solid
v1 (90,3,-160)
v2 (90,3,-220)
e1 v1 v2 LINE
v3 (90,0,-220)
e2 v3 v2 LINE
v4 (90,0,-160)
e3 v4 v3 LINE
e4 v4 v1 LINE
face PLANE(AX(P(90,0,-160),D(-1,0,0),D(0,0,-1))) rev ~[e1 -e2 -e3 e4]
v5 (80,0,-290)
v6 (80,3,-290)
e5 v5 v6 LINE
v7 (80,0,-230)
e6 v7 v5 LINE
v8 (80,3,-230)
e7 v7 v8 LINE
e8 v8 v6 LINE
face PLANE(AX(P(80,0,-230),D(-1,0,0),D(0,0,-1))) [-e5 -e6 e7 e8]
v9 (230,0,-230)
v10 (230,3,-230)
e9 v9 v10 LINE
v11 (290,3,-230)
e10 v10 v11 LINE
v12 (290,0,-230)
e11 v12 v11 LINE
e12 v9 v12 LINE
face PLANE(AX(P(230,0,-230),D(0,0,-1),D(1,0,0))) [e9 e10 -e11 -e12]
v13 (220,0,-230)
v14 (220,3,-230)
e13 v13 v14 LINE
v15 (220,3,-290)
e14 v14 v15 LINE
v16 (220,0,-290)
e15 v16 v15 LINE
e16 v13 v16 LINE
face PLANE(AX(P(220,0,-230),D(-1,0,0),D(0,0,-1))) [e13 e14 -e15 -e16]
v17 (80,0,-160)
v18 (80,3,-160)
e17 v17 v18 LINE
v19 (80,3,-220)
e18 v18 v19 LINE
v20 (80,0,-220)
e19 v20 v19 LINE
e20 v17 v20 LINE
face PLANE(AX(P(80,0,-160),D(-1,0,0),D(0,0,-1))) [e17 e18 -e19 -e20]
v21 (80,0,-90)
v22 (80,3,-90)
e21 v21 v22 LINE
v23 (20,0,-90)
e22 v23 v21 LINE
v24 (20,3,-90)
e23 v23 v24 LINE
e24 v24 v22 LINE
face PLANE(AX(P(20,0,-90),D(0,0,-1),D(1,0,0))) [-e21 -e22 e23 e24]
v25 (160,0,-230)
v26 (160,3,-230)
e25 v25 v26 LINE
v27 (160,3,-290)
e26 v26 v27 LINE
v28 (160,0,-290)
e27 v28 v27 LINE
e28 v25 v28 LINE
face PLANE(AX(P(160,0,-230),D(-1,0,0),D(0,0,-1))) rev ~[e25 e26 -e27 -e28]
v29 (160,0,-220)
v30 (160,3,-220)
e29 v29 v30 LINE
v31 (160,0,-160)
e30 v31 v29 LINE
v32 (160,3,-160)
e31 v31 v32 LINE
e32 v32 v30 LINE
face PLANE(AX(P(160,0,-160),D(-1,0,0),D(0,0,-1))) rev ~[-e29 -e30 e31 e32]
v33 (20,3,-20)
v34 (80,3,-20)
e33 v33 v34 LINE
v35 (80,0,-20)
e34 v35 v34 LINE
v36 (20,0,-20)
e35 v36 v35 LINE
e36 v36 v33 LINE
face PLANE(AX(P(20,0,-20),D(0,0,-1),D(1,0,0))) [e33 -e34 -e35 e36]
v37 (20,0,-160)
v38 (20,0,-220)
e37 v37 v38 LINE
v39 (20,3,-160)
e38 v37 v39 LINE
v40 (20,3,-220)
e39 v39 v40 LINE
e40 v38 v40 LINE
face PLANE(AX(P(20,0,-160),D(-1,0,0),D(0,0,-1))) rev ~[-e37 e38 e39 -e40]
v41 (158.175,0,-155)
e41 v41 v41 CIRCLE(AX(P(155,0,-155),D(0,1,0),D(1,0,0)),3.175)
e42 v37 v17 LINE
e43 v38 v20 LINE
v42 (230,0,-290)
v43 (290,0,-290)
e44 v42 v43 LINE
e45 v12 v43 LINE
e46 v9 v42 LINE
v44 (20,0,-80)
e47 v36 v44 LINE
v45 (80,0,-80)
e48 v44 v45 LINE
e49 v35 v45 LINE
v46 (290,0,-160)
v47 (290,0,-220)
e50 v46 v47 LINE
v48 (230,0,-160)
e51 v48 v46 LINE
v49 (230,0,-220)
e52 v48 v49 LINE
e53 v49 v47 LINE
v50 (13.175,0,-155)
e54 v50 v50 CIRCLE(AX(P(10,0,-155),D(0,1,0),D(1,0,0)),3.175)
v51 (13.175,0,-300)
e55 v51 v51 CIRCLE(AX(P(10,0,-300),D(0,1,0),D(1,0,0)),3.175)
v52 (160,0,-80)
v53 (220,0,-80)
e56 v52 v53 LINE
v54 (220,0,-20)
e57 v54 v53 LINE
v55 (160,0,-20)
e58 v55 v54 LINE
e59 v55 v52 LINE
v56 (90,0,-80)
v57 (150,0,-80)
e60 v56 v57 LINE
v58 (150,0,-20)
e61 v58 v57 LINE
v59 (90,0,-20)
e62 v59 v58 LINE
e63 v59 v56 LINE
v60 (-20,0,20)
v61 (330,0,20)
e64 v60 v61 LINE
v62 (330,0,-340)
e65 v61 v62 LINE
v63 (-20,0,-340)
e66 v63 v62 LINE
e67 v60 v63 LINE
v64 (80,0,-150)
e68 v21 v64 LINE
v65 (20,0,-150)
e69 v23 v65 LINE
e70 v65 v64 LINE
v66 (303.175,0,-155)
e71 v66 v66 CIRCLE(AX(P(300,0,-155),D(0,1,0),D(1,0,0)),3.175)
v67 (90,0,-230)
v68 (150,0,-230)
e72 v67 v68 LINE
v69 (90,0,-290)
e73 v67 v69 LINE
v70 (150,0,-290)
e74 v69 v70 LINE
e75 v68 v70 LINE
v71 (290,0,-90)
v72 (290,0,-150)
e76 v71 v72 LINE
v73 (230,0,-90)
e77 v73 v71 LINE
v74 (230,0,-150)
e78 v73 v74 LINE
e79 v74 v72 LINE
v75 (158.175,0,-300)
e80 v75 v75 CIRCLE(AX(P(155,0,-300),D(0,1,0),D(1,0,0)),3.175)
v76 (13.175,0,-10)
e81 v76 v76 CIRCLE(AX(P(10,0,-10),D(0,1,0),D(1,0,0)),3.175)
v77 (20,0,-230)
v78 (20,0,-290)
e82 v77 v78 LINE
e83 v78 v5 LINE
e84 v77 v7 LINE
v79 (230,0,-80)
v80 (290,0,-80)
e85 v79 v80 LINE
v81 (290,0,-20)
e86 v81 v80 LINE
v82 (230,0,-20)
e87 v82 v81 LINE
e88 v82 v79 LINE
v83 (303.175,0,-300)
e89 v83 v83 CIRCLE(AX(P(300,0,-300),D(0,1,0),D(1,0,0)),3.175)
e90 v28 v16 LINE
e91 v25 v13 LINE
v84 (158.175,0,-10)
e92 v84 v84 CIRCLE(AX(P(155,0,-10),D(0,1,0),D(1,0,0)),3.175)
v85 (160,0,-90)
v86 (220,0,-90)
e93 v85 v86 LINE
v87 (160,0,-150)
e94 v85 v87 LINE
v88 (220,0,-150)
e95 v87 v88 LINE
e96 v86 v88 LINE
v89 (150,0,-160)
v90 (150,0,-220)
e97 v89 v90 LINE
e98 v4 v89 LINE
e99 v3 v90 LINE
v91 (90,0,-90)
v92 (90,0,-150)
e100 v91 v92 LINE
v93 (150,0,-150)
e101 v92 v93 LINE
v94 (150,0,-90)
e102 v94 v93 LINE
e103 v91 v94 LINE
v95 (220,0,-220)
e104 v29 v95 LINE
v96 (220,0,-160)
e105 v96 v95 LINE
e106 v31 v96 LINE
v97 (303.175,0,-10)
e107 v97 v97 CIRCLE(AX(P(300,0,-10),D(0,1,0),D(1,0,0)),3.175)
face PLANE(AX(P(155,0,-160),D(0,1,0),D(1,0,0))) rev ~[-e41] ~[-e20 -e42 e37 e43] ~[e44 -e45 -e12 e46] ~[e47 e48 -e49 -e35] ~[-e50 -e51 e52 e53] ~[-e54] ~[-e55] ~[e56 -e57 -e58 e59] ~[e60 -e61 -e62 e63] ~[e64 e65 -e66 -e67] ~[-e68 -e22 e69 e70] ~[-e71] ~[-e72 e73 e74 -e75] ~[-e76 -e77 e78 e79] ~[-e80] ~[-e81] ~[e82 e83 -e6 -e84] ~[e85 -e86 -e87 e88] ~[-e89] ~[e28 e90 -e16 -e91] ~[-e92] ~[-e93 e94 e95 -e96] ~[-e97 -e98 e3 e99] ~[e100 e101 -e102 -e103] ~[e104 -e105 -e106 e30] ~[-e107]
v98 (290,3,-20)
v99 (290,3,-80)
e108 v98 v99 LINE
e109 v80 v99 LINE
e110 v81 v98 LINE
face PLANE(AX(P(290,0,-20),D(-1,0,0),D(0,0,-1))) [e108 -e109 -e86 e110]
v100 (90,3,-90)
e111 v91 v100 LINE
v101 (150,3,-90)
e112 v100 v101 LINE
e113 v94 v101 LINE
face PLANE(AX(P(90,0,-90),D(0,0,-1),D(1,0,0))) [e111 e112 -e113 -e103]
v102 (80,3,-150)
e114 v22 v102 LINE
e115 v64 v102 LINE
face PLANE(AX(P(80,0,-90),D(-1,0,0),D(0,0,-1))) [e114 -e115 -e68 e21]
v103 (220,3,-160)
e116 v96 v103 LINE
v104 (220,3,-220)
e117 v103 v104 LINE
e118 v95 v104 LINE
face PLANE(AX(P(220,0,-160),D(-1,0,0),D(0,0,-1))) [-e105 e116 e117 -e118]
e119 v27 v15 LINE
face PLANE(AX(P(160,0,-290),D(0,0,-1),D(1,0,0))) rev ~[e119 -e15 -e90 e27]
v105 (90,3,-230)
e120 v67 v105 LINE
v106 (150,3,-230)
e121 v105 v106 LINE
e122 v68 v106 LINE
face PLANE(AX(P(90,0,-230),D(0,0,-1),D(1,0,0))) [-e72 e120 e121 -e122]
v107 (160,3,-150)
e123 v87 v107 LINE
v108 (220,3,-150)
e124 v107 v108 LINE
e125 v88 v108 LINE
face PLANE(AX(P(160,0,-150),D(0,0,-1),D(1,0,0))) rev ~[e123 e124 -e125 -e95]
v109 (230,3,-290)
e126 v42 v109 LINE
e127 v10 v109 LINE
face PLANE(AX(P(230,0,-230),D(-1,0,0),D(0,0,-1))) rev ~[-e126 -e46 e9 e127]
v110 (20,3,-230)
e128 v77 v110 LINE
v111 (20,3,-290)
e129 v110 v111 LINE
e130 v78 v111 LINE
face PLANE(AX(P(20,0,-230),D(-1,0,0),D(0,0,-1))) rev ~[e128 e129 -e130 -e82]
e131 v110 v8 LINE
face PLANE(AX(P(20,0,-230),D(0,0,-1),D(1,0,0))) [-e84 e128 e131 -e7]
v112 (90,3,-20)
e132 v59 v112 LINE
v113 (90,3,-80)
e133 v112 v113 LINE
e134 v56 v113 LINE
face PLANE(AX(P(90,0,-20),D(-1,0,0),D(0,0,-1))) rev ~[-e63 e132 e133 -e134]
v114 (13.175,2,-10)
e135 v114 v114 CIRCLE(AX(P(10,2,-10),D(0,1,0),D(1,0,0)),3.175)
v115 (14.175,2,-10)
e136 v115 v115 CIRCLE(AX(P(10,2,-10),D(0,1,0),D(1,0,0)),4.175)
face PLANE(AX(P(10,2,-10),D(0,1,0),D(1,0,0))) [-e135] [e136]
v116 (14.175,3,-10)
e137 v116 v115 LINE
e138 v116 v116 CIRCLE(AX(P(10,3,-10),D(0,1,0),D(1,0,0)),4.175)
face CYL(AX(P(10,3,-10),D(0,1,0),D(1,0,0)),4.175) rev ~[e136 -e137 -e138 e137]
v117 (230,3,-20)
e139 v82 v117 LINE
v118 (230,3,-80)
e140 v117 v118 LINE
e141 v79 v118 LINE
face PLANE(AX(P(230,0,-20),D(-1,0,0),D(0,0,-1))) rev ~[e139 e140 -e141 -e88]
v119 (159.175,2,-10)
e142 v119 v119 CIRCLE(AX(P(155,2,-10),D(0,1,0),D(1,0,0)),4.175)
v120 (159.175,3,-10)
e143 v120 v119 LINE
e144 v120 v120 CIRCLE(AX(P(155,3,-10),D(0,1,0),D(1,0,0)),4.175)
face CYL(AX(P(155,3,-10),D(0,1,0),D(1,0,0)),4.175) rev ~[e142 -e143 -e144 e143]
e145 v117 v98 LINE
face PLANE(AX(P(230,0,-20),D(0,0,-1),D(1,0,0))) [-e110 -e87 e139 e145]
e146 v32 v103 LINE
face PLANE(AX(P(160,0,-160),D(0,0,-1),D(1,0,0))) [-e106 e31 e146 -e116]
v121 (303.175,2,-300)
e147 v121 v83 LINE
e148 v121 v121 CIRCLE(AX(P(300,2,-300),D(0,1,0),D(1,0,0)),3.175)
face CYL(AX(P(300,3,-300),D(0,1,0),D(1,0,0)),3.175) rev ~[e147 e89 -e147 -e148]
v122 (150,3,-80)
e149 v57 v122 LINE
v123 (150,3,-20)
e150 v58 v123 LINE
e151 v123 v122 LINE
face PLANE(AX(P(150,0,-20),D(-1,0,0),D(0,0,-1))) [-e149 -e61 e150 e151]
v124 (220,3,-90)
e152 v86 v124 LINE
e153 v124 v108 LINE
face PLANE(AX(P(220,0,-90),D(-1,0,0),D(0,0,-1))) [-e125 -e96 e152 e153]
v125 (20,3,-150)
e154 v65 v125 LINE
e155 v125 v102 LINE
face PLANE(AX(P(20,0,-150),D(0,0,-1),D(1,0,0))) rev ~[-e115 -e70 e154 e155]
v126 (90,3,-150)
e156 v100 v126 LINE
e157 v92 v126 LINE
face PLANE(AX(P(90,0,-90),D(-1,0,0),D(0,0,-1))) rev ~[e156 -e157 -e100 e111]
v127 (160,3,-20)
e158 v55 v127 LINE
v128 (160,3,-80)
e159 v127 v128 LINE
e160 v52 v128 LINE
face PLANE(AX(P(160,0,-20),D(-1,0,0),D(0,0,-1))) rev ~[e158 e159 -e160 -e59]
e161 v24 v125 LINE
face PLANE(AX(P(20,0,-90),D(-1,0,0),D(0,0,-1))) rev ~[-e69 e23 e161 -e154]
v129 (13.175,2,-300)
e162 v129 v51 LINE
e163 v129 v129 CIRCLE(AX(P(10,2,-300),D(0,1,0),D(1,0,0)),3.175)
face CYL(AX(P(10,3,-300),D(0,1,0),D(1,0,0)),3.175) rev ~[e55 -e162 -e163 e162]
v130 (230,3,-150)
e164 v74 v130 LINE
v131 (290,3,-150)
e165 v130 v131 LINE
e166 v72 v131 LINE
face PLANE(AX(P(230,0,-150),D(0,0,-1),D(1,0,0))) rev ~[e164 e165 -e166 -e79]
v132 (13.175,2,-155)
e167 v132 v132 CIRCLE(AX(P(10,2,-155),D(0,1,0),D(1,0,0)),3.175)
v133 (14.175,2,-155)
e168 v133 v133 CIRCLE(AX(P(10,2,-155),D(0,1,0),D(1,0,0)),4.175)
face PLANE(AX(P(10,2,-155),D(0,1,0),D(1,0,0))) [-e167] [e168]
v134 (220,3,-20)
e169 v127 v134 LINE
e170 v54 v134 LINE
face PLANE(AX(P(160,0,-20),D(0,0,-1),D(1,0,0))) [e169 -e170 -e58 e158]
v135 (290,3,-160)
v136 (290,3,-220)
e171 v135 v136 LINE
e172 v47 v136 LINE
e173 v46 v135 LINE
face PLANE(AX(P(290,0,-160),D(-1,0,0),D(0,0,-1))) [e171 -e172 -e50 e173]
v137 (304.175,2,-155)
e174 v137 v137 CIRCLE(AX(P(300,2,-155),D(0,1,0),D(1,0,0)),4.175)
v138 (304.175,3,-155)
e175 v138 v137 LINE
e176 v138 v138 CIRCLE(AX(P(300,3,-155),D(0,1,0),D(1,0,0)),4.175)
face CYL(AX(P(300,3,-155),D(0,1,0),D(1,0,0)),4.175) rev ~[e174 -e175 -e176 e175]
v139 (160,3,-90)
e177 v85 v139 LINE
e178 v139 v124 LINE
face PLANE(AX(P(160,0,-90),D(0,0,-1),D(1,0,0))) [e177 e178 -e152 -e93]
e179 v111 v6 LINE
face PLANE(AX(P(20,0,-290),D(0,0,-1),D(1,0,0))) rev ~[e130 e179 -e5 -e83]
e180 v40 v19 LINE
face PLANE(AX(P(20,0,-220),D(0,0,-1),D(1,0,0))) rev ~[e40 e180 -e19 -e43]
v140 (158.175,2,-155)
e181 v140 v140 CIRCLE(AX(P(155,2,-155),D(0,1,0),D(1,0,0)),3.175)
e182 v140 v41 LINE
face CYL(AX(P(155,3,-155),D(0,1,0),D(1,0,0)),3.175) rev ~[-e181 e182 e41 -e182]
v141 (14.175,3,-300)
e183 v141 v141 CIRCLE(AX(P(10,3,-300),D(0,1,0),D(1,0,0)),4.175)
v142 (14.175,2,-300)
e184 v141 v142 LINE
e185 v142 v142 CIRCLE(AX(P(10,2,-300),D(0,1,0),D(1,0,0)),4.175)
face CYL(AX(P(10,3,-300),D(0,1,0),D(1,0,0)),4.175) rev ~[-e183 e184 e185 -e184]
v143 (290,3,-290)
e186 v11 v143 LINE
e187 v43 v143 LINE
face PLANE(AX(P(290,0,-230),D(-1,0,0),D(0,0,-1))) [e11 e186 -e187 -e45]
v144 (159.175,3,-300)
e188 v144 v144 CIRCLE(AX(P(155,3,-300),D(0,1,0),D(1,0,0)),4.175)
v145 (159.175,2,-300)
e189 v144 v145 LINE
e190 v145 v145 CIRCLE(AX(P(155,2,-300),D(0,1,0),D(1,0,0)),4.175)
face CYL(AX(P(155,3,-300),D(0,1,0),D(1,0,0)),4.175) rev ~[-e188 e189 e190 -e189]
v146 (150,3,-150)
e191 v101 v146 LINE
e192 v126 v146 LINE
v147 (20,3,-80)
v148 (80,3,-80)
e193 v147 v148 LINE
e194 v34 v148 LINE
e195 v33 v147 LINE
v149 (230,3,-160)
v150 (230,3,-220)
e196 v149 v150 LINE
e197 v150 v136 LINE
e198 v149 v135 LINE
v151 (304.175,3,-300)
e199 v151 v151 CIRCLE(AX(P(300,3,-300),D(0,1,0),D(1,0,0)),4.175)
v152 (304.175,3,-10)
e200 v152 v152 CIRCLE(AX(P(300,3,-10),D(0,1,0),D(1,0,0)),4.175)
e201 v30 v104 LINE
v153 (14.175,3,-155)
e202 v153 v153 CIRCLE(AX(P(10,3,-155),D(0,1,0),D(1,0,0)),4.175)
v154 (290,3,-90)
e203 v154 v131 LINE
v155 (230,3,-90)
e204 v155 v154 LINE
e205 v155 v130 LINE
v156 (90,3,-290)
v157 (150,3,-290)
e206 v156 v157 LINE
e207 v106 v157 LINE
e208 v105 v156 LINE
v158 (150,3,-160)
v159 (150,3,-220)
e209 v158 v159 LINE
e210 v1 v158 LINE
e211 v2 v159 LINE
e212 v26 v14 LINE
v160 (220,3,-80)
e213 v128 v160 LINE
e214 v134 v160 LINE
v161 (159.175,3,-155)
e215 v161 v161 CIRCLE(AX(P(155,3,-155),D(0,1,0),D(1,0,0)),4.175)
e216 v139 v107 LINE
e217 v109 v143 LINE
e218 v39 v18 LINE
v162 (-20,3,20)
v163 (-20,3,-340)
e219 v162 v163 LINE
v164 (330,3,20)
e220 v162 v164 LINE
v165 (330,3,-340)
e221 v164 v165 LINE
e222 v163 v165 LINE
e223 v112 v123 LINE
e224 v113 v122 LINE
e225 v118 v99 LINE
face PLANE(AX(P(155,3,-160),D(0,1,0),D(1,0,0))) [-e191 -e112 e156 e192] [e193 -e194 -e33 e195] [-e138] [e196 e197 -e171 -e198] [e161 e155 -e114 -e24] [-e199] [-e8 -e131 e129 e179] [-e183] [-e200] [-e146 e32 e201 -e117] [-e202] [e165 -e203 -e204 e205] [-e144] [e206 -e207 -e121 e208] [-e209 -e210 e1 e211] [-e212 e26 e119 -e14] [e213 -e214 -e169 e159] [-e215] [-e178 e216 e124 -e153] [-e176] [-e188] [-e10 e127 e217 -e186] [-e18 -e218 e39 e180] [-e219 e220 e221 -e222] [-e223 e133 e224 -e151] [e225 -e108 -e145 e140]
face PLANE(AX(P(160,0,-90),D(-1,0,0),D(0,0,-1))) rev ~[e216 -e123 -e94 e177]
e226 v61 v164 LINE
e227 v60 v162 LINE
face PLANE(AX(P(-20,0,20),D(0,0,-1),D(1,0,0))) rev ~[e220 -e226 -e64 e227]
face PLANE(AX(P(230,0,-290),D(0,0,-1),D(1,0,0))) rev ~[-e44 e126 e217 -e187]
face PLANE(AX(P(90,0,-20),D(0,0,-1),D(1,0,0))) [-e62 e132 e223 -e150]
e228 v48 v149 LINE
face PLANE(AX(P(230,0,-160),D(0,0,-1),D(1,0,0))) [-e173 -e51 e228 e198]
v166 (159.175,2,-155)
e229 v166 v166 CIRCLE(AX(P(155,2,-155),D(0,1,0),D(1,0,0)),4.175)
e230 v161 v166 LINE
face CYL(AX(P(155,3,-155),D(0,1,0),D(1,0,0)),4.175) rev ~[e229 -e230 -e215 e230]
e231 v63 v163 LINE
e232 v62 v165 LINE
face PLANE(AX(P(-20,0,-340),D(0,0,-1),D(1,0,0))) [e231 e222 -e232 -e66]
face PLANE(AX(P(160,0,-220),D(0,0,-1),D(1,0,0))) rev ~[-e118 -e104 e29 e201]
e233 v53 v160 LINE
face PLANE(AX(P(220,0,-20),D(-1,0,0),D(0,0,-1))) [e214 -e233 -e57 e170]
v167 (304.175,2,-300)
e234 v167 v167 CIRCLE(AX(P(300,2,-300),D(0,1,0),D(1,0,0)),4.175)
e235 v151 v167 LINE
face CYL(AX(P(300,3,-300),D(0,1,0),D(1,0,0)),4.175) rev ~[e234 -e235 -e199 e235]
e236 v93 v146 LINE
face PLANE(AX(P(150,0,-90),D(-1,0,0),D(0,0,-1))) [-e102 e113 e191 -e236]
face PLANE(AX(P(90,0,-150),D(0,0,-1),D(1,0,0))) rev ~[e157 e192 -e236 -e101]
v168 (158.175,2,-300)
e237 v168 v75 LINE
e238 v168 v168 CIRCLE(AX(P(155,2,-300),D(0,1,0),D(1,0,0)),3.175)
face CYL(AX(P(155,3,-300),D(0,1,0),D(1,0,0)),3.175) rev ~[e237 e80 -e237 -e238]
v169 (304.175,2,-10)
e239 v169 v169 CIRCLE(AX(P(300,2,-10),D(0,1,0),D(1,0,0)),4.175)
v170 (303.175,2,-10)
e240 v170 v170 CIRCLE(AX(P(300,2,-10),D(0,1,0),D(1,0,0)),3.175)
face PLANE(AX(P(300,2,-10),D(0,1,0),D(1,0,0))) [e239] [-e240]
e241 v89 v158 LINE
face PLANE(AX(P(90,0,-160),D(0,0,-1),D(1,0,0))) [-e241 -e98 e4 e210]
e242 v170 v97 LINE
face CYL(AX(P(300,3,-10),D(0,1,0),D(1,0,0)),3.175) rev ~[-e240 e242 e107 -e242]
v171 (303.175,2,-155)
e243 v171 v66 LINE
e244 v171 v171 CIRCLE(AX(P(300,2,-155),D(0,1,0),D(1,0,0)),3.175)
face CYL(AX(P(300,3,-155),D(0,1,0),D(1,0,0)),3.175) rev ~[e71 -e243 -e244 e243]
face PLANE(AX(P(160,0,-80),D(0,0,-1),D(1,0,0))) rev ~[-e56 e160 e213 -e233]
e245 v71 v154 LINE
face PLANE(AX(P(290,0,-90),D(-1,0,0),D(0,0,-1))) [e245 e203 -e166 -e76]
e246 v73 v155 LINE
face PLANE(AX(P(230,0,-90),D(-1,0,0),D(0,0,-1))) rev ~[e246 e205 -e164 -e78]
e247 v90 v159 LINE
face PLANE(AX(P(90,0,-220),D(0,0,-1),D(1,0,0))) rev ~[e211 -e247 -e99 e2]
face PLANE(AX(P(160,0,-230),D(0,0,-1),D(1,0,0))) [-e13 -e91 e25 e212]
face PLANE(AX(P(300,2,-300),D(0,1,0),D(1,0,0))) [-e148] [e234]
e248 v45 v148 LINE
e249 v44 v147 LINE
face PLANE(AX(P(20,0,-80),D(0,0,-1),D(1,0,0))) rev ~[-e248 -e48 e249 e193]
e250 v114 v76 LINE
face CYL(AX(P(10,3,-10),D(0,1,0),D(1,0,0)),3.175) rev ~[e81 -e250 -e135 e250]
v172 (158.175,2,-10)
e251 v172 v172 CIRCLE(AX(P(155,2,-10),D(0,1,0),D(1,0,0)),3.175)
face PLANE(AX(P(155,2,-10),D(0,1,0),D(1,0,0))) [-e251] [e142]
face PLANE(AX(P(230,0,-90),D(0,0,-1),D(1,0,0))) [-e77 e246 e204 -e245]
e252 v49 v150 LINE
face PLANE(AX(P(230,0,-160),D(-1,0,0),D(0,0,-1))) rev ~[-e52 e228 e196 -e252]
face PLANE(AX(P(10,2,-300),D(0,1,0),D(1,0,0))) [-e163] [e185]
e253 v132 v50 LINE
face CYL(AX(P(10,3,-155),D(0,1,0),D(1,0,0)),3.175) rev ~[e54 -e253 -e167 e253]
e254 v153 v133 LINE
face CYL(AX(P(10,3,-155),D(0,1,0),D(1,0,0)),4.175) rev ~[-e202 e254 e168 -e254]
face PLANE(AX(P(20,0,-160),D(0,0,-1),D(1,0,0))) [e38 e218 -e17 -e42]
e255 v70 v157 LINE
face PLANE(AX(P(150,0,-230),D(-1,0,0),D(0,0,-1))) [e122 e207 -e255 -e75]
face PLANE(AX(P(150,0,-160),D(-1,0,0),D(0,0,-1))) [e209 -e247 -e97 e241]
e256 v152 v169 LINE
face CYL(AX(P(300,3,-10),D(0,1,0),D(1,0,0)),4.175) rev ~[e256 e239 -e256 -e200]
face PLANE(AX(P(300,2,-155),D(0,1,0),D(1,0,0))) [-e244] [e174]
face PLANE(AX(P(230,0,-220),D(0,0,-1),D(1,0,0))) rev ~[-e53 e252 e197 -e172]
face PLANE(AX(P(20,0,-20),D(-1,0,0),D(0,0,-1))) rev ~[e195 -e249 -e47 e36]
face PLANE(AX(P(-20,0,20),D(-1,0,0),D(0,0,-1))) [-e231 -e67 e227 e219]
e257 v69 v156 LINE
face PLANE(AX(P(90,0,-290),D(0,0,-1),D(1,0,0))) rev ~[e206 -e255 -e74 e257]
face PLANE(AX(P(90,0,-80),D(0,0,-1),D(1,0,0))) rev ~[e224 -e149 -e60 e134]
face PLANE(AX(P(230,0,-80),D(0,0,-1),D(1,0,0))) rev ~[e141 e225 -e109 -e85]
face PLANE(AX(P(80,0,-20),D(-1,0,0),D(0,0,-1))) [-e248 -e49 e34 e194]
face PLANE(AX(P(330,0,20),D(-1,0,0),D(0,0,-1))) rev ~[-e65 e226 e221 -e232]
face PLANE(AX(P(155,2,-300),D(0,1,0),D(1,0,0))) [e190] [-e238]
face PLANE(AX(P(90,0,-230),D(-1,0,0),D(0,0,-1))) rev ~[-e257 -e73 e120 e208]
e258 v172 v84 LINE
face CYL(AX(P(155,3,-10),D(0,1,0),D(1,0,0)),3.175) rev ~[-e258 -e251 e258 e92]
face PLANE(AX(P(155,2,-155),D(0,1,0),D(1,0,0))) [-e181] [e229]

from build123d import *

# Parameters (mm, degrees)
ESQUISSE1_W                     = 350
ESQUISSE1_H                     = 360
ESQUISSE1_W_2                   = 60
ESQUISSE1_H_2                   = 60
BOSS_EXTRU_1_DEPTH              = 3
ESQUISSE2_R                     = 3.175
ENL_V_MAT_EXTRU_1_DEPTH         = 5
ESQUISSE2_2_R                   = 4.175
ESQUISSE2_2_R_2                 = 3.175
ENL_V_DE_MAT_EXTRU_MINCE1_DEPTH = 1


with BuildPart() as part:
    # Esquisse1 → Boss.-Extru.1 (new body)
    with BuildSketch(Plane(origin=(0, 0, 0), x_dir=(1, 0, 0), z_dir=(0, 1, 0))):
        with Locations((155, 160)):
            Rectangle(ESQUISSE1_W, ESQUISSE1_H)
        with Locations((50, 50)):
            Rectangle(ESQUISSE1_W_2, ESQUISSE1_H_2, mode=Mode.SUBTRACT)
        with Locations((120, 50)):
            Rectangle(ESQUISSE1_W_2, ESQUISSE1_H_2, mode=Mode.SUBTRACT)
        with Locations((50, 120)):
            Rectangle(ESQUISSE1_W_2, ESQUISSE1_H_2, mode=Mode.SUBTRACT)
        with Locations((120, 120)):
            Rectangle(ESQUISSE1_W_2, ESQUISSE1_H_2, mode=Mode.SUBTRACT)
        with Locations((190, 50)):
            Rectangle(ESQUISSE1_W_2, ESQUISSE1_H_2, mode=Mode.SUBTRACT)
        with Locations((260, 50)):
            Rectangle(ESQUISSE1_W_2, ESQUISSE1_H_2, mode=Mode.SUBTRACT)
        with Locations((190, 120)):
            Rectangle(ESQUISSE1_W_2, ESQUISSE1_H_2, mode=Mode.SUBTRACT)
        with Locations((260, 120)):
            Rectangle(ESQUISSE1_W_2, ESQUISSE1_H_2, mode=Mode.SUBTRACT)
        with Locations((50, 190)):
            Rectangle(ESQUISSE1_W_2, ESQUISSE1_H_2, mode=Mode.SUBTRACT)
        with Locations((120, 190)):
            Rectangle(ESQUISSE1_W_2, ESQUISSE1_H_2, mode=Mode.SUBTRACT)
        with Locations((50, 260)):
            Rectangle(ESQUISSE1_W_2, ESQUISSE1_H_2, mode=Mode.SUBTRACT)
        with Locations((120, 260)):
            Rectangle(ESQUISSE1_W_2, ESQUISSE1_H_2, mode=Mode.SUBTRACT)
        with Locations((190, 190)):
            Rectangle(ESQUISSE1_W_2, ESQUISSE1_H_2, mode=Mode.SUBTRACT)
        with Locations((260, 190)):
            Rectangle(ESQUISSE1_W_2, ESQUISSE1_H_2, mode=Mode.SUBTRACT)
        with Locations((190, 260)):
            Rectangle(ESQUISSE1_W_2, ESQUISSE1_H_2, mode=Mode.SUBTRACT)
        with Locations((260, 260)):
            Rectangle(ESQUISSE1_W_2, ESQUISSE1_H_2, mode=Mode.SUBTRACT)
    extrude(amount=BOSS_EXTRU_1_DEPTH)

    # Esquisse2 → Enl_v. mat.-Extru.1 (cut)
    with BuildSketch(Plane(origin=(0, 3, 0), x_dir=(1, 0, 0), z_dir=(0, 1, 0))):
        with Locations((155, 300)):
            Circle(ESQUISSE2_R)
        with Locations((10, 300)):
            Circle(ESQUISSE2_R)
        with Locations((155, 155)):
            Circle(ESQUISSE2_R)
        with Locations((300, 300)):
            Circle(ESQUISSE2_R)
        with Locations((300, 155)):
            Circle(ESQUISSE2_R)
        with Locations((10, 155)):
            Circle(ESQUISSE2_R)
        with Locations((10, 10)):
            Circle(ESQUISSE2_R)
        with Locations((300, 10)):
            Circle(ESQUISSE2_R)
        with Locations((155, 10)):
            Circle(ESQUISSE2_R)
    extrude(amount=-ENL_V_MAT_EXTRU_1_DEPTH, mode=Mode.SUBTRACT)

    # Esquisse2_2 → Enl_v. de mat.-Extru.-Mince1 (cut)
    # profile 1 of 9: a face of its own
    with BuildSketch(Plane(origin=(0, 3, 0), x_dir=(1, 0, 0), z_dir=(0, 1, 0))):
        with Locations((155, 300)):
            Circle(ESQUISSE2_2_R)
        with Locations((155, 300)):
            Circle(ESQUISSE2_2_R_2, mode=Mode.SUBTRACT)
    # profile 2 of 9: a face of its own
    with BuildSketch(Plane(origin=(0, 3, 0), x_dir=(1, 0, 0), z_dir=(0, 1, 0))):
        with Locations((10, 300)):
            Circle(ESQUISSE2_2_R)
        with Locations((10, 300)):
            Circle(ESQUISSE2_2_R_2, mode=Mode.SUBTRACT)
    # profile 3 of 9: a face of its own
    with BuildSketch(Plane(origin=(0, 3, 0), x_dir=(1, 0, 0), z_dir=(0, 1, 0))):
        with Locations((155, 155)):
            Circle(ESQUISSE2_2_R)
        with Locations((155, 155)):
            Circle(ESQUISSE2_2_R_2, mode=Mode.SUBTRACT)
    # profile 4 of 9: a face of its own
    with BuildSketch(Plane(origin=(0, 3, 0), x_dir=(1, 0, 0), z_dir=(0, 1, 0))):
        with Locations((300, 300)):
            Circle(ESQUISSE2_2_R)
        with Locations((300, 300)):
            Circle(ESQUISSE2_2_R_2, mode=Mode.SUBTRACT)
    # profile 5 of 9: a face of its own
    with BuildSketch(Plane(origin=(0, 3, 0), x_dir=(1, 0, 0), z_dir=(0, 1, 0))):
        with Locations((300, 155)):
            Circle(ESQUISSE2_2_R)
        with Locations((300, 155)):
            Circle(ESQUISSE2_2_R_2, mode=Mode.SUBTRACT)
    # profile 6 of 9: a face of its own
    with BuildSketch(Plane(origin=(0, 3, 0), x_dir=(1, 0, 0), z_dir=(0, 1, 0))):
        with Locations((10, 155)):
            Circle(ESQUISSE2_2_R)
        with Locations((10, 155)):
            Circle(ESQUISSE2_2_R_2, mode=Mode.SUBTRACT)
    # profile 7 of 9: a face of its own
    with BuildSketch(Plane(origin=(0, 3, 0), x_dir=(1, 0, 0), z_dir=(0, 1, 0))):
        with Locations((10, 10)):
            Circle(ESQUISSE2_2_R)
        with Locations((10, 10)):
            Circle(ESQUISSE2_2_R_2, mode=Mode.SUBTRACT)
    # profile 8 of 9: a face of its own
    with BuildSketch(Plane(origin=(0, 3, 0), x_dir=(1, 0, 0), z_dir=(0, 1, 0))):
        with Locations((300, 10)):
            Circle(ESQUISSE2_2_R)
        with Locations((300, 10)):
            Circle(ESQUISSE2_2_R_2, mode=Mode.SUBTRACT)
    # profile 9 of 9: a face of its own
    with BuildSketch(Plane(origin=(0, 3, 0), x_dir=(1, 0, 0), z_dir=(0, 1, 0))):
        with Locations((155, 10)):
            Circle(ESQUISSE2_2_R)
        with Locations((155, 10)):
            Circle(ESQUISSE2_2_R_2, mode=Mode.SUBTRACT)
    extrude(amount=-ENL_V_DE_MAT_EXTRU_MINCE1_DEPTH, mode=Mode.SUBTRACT)


solid = part.part
